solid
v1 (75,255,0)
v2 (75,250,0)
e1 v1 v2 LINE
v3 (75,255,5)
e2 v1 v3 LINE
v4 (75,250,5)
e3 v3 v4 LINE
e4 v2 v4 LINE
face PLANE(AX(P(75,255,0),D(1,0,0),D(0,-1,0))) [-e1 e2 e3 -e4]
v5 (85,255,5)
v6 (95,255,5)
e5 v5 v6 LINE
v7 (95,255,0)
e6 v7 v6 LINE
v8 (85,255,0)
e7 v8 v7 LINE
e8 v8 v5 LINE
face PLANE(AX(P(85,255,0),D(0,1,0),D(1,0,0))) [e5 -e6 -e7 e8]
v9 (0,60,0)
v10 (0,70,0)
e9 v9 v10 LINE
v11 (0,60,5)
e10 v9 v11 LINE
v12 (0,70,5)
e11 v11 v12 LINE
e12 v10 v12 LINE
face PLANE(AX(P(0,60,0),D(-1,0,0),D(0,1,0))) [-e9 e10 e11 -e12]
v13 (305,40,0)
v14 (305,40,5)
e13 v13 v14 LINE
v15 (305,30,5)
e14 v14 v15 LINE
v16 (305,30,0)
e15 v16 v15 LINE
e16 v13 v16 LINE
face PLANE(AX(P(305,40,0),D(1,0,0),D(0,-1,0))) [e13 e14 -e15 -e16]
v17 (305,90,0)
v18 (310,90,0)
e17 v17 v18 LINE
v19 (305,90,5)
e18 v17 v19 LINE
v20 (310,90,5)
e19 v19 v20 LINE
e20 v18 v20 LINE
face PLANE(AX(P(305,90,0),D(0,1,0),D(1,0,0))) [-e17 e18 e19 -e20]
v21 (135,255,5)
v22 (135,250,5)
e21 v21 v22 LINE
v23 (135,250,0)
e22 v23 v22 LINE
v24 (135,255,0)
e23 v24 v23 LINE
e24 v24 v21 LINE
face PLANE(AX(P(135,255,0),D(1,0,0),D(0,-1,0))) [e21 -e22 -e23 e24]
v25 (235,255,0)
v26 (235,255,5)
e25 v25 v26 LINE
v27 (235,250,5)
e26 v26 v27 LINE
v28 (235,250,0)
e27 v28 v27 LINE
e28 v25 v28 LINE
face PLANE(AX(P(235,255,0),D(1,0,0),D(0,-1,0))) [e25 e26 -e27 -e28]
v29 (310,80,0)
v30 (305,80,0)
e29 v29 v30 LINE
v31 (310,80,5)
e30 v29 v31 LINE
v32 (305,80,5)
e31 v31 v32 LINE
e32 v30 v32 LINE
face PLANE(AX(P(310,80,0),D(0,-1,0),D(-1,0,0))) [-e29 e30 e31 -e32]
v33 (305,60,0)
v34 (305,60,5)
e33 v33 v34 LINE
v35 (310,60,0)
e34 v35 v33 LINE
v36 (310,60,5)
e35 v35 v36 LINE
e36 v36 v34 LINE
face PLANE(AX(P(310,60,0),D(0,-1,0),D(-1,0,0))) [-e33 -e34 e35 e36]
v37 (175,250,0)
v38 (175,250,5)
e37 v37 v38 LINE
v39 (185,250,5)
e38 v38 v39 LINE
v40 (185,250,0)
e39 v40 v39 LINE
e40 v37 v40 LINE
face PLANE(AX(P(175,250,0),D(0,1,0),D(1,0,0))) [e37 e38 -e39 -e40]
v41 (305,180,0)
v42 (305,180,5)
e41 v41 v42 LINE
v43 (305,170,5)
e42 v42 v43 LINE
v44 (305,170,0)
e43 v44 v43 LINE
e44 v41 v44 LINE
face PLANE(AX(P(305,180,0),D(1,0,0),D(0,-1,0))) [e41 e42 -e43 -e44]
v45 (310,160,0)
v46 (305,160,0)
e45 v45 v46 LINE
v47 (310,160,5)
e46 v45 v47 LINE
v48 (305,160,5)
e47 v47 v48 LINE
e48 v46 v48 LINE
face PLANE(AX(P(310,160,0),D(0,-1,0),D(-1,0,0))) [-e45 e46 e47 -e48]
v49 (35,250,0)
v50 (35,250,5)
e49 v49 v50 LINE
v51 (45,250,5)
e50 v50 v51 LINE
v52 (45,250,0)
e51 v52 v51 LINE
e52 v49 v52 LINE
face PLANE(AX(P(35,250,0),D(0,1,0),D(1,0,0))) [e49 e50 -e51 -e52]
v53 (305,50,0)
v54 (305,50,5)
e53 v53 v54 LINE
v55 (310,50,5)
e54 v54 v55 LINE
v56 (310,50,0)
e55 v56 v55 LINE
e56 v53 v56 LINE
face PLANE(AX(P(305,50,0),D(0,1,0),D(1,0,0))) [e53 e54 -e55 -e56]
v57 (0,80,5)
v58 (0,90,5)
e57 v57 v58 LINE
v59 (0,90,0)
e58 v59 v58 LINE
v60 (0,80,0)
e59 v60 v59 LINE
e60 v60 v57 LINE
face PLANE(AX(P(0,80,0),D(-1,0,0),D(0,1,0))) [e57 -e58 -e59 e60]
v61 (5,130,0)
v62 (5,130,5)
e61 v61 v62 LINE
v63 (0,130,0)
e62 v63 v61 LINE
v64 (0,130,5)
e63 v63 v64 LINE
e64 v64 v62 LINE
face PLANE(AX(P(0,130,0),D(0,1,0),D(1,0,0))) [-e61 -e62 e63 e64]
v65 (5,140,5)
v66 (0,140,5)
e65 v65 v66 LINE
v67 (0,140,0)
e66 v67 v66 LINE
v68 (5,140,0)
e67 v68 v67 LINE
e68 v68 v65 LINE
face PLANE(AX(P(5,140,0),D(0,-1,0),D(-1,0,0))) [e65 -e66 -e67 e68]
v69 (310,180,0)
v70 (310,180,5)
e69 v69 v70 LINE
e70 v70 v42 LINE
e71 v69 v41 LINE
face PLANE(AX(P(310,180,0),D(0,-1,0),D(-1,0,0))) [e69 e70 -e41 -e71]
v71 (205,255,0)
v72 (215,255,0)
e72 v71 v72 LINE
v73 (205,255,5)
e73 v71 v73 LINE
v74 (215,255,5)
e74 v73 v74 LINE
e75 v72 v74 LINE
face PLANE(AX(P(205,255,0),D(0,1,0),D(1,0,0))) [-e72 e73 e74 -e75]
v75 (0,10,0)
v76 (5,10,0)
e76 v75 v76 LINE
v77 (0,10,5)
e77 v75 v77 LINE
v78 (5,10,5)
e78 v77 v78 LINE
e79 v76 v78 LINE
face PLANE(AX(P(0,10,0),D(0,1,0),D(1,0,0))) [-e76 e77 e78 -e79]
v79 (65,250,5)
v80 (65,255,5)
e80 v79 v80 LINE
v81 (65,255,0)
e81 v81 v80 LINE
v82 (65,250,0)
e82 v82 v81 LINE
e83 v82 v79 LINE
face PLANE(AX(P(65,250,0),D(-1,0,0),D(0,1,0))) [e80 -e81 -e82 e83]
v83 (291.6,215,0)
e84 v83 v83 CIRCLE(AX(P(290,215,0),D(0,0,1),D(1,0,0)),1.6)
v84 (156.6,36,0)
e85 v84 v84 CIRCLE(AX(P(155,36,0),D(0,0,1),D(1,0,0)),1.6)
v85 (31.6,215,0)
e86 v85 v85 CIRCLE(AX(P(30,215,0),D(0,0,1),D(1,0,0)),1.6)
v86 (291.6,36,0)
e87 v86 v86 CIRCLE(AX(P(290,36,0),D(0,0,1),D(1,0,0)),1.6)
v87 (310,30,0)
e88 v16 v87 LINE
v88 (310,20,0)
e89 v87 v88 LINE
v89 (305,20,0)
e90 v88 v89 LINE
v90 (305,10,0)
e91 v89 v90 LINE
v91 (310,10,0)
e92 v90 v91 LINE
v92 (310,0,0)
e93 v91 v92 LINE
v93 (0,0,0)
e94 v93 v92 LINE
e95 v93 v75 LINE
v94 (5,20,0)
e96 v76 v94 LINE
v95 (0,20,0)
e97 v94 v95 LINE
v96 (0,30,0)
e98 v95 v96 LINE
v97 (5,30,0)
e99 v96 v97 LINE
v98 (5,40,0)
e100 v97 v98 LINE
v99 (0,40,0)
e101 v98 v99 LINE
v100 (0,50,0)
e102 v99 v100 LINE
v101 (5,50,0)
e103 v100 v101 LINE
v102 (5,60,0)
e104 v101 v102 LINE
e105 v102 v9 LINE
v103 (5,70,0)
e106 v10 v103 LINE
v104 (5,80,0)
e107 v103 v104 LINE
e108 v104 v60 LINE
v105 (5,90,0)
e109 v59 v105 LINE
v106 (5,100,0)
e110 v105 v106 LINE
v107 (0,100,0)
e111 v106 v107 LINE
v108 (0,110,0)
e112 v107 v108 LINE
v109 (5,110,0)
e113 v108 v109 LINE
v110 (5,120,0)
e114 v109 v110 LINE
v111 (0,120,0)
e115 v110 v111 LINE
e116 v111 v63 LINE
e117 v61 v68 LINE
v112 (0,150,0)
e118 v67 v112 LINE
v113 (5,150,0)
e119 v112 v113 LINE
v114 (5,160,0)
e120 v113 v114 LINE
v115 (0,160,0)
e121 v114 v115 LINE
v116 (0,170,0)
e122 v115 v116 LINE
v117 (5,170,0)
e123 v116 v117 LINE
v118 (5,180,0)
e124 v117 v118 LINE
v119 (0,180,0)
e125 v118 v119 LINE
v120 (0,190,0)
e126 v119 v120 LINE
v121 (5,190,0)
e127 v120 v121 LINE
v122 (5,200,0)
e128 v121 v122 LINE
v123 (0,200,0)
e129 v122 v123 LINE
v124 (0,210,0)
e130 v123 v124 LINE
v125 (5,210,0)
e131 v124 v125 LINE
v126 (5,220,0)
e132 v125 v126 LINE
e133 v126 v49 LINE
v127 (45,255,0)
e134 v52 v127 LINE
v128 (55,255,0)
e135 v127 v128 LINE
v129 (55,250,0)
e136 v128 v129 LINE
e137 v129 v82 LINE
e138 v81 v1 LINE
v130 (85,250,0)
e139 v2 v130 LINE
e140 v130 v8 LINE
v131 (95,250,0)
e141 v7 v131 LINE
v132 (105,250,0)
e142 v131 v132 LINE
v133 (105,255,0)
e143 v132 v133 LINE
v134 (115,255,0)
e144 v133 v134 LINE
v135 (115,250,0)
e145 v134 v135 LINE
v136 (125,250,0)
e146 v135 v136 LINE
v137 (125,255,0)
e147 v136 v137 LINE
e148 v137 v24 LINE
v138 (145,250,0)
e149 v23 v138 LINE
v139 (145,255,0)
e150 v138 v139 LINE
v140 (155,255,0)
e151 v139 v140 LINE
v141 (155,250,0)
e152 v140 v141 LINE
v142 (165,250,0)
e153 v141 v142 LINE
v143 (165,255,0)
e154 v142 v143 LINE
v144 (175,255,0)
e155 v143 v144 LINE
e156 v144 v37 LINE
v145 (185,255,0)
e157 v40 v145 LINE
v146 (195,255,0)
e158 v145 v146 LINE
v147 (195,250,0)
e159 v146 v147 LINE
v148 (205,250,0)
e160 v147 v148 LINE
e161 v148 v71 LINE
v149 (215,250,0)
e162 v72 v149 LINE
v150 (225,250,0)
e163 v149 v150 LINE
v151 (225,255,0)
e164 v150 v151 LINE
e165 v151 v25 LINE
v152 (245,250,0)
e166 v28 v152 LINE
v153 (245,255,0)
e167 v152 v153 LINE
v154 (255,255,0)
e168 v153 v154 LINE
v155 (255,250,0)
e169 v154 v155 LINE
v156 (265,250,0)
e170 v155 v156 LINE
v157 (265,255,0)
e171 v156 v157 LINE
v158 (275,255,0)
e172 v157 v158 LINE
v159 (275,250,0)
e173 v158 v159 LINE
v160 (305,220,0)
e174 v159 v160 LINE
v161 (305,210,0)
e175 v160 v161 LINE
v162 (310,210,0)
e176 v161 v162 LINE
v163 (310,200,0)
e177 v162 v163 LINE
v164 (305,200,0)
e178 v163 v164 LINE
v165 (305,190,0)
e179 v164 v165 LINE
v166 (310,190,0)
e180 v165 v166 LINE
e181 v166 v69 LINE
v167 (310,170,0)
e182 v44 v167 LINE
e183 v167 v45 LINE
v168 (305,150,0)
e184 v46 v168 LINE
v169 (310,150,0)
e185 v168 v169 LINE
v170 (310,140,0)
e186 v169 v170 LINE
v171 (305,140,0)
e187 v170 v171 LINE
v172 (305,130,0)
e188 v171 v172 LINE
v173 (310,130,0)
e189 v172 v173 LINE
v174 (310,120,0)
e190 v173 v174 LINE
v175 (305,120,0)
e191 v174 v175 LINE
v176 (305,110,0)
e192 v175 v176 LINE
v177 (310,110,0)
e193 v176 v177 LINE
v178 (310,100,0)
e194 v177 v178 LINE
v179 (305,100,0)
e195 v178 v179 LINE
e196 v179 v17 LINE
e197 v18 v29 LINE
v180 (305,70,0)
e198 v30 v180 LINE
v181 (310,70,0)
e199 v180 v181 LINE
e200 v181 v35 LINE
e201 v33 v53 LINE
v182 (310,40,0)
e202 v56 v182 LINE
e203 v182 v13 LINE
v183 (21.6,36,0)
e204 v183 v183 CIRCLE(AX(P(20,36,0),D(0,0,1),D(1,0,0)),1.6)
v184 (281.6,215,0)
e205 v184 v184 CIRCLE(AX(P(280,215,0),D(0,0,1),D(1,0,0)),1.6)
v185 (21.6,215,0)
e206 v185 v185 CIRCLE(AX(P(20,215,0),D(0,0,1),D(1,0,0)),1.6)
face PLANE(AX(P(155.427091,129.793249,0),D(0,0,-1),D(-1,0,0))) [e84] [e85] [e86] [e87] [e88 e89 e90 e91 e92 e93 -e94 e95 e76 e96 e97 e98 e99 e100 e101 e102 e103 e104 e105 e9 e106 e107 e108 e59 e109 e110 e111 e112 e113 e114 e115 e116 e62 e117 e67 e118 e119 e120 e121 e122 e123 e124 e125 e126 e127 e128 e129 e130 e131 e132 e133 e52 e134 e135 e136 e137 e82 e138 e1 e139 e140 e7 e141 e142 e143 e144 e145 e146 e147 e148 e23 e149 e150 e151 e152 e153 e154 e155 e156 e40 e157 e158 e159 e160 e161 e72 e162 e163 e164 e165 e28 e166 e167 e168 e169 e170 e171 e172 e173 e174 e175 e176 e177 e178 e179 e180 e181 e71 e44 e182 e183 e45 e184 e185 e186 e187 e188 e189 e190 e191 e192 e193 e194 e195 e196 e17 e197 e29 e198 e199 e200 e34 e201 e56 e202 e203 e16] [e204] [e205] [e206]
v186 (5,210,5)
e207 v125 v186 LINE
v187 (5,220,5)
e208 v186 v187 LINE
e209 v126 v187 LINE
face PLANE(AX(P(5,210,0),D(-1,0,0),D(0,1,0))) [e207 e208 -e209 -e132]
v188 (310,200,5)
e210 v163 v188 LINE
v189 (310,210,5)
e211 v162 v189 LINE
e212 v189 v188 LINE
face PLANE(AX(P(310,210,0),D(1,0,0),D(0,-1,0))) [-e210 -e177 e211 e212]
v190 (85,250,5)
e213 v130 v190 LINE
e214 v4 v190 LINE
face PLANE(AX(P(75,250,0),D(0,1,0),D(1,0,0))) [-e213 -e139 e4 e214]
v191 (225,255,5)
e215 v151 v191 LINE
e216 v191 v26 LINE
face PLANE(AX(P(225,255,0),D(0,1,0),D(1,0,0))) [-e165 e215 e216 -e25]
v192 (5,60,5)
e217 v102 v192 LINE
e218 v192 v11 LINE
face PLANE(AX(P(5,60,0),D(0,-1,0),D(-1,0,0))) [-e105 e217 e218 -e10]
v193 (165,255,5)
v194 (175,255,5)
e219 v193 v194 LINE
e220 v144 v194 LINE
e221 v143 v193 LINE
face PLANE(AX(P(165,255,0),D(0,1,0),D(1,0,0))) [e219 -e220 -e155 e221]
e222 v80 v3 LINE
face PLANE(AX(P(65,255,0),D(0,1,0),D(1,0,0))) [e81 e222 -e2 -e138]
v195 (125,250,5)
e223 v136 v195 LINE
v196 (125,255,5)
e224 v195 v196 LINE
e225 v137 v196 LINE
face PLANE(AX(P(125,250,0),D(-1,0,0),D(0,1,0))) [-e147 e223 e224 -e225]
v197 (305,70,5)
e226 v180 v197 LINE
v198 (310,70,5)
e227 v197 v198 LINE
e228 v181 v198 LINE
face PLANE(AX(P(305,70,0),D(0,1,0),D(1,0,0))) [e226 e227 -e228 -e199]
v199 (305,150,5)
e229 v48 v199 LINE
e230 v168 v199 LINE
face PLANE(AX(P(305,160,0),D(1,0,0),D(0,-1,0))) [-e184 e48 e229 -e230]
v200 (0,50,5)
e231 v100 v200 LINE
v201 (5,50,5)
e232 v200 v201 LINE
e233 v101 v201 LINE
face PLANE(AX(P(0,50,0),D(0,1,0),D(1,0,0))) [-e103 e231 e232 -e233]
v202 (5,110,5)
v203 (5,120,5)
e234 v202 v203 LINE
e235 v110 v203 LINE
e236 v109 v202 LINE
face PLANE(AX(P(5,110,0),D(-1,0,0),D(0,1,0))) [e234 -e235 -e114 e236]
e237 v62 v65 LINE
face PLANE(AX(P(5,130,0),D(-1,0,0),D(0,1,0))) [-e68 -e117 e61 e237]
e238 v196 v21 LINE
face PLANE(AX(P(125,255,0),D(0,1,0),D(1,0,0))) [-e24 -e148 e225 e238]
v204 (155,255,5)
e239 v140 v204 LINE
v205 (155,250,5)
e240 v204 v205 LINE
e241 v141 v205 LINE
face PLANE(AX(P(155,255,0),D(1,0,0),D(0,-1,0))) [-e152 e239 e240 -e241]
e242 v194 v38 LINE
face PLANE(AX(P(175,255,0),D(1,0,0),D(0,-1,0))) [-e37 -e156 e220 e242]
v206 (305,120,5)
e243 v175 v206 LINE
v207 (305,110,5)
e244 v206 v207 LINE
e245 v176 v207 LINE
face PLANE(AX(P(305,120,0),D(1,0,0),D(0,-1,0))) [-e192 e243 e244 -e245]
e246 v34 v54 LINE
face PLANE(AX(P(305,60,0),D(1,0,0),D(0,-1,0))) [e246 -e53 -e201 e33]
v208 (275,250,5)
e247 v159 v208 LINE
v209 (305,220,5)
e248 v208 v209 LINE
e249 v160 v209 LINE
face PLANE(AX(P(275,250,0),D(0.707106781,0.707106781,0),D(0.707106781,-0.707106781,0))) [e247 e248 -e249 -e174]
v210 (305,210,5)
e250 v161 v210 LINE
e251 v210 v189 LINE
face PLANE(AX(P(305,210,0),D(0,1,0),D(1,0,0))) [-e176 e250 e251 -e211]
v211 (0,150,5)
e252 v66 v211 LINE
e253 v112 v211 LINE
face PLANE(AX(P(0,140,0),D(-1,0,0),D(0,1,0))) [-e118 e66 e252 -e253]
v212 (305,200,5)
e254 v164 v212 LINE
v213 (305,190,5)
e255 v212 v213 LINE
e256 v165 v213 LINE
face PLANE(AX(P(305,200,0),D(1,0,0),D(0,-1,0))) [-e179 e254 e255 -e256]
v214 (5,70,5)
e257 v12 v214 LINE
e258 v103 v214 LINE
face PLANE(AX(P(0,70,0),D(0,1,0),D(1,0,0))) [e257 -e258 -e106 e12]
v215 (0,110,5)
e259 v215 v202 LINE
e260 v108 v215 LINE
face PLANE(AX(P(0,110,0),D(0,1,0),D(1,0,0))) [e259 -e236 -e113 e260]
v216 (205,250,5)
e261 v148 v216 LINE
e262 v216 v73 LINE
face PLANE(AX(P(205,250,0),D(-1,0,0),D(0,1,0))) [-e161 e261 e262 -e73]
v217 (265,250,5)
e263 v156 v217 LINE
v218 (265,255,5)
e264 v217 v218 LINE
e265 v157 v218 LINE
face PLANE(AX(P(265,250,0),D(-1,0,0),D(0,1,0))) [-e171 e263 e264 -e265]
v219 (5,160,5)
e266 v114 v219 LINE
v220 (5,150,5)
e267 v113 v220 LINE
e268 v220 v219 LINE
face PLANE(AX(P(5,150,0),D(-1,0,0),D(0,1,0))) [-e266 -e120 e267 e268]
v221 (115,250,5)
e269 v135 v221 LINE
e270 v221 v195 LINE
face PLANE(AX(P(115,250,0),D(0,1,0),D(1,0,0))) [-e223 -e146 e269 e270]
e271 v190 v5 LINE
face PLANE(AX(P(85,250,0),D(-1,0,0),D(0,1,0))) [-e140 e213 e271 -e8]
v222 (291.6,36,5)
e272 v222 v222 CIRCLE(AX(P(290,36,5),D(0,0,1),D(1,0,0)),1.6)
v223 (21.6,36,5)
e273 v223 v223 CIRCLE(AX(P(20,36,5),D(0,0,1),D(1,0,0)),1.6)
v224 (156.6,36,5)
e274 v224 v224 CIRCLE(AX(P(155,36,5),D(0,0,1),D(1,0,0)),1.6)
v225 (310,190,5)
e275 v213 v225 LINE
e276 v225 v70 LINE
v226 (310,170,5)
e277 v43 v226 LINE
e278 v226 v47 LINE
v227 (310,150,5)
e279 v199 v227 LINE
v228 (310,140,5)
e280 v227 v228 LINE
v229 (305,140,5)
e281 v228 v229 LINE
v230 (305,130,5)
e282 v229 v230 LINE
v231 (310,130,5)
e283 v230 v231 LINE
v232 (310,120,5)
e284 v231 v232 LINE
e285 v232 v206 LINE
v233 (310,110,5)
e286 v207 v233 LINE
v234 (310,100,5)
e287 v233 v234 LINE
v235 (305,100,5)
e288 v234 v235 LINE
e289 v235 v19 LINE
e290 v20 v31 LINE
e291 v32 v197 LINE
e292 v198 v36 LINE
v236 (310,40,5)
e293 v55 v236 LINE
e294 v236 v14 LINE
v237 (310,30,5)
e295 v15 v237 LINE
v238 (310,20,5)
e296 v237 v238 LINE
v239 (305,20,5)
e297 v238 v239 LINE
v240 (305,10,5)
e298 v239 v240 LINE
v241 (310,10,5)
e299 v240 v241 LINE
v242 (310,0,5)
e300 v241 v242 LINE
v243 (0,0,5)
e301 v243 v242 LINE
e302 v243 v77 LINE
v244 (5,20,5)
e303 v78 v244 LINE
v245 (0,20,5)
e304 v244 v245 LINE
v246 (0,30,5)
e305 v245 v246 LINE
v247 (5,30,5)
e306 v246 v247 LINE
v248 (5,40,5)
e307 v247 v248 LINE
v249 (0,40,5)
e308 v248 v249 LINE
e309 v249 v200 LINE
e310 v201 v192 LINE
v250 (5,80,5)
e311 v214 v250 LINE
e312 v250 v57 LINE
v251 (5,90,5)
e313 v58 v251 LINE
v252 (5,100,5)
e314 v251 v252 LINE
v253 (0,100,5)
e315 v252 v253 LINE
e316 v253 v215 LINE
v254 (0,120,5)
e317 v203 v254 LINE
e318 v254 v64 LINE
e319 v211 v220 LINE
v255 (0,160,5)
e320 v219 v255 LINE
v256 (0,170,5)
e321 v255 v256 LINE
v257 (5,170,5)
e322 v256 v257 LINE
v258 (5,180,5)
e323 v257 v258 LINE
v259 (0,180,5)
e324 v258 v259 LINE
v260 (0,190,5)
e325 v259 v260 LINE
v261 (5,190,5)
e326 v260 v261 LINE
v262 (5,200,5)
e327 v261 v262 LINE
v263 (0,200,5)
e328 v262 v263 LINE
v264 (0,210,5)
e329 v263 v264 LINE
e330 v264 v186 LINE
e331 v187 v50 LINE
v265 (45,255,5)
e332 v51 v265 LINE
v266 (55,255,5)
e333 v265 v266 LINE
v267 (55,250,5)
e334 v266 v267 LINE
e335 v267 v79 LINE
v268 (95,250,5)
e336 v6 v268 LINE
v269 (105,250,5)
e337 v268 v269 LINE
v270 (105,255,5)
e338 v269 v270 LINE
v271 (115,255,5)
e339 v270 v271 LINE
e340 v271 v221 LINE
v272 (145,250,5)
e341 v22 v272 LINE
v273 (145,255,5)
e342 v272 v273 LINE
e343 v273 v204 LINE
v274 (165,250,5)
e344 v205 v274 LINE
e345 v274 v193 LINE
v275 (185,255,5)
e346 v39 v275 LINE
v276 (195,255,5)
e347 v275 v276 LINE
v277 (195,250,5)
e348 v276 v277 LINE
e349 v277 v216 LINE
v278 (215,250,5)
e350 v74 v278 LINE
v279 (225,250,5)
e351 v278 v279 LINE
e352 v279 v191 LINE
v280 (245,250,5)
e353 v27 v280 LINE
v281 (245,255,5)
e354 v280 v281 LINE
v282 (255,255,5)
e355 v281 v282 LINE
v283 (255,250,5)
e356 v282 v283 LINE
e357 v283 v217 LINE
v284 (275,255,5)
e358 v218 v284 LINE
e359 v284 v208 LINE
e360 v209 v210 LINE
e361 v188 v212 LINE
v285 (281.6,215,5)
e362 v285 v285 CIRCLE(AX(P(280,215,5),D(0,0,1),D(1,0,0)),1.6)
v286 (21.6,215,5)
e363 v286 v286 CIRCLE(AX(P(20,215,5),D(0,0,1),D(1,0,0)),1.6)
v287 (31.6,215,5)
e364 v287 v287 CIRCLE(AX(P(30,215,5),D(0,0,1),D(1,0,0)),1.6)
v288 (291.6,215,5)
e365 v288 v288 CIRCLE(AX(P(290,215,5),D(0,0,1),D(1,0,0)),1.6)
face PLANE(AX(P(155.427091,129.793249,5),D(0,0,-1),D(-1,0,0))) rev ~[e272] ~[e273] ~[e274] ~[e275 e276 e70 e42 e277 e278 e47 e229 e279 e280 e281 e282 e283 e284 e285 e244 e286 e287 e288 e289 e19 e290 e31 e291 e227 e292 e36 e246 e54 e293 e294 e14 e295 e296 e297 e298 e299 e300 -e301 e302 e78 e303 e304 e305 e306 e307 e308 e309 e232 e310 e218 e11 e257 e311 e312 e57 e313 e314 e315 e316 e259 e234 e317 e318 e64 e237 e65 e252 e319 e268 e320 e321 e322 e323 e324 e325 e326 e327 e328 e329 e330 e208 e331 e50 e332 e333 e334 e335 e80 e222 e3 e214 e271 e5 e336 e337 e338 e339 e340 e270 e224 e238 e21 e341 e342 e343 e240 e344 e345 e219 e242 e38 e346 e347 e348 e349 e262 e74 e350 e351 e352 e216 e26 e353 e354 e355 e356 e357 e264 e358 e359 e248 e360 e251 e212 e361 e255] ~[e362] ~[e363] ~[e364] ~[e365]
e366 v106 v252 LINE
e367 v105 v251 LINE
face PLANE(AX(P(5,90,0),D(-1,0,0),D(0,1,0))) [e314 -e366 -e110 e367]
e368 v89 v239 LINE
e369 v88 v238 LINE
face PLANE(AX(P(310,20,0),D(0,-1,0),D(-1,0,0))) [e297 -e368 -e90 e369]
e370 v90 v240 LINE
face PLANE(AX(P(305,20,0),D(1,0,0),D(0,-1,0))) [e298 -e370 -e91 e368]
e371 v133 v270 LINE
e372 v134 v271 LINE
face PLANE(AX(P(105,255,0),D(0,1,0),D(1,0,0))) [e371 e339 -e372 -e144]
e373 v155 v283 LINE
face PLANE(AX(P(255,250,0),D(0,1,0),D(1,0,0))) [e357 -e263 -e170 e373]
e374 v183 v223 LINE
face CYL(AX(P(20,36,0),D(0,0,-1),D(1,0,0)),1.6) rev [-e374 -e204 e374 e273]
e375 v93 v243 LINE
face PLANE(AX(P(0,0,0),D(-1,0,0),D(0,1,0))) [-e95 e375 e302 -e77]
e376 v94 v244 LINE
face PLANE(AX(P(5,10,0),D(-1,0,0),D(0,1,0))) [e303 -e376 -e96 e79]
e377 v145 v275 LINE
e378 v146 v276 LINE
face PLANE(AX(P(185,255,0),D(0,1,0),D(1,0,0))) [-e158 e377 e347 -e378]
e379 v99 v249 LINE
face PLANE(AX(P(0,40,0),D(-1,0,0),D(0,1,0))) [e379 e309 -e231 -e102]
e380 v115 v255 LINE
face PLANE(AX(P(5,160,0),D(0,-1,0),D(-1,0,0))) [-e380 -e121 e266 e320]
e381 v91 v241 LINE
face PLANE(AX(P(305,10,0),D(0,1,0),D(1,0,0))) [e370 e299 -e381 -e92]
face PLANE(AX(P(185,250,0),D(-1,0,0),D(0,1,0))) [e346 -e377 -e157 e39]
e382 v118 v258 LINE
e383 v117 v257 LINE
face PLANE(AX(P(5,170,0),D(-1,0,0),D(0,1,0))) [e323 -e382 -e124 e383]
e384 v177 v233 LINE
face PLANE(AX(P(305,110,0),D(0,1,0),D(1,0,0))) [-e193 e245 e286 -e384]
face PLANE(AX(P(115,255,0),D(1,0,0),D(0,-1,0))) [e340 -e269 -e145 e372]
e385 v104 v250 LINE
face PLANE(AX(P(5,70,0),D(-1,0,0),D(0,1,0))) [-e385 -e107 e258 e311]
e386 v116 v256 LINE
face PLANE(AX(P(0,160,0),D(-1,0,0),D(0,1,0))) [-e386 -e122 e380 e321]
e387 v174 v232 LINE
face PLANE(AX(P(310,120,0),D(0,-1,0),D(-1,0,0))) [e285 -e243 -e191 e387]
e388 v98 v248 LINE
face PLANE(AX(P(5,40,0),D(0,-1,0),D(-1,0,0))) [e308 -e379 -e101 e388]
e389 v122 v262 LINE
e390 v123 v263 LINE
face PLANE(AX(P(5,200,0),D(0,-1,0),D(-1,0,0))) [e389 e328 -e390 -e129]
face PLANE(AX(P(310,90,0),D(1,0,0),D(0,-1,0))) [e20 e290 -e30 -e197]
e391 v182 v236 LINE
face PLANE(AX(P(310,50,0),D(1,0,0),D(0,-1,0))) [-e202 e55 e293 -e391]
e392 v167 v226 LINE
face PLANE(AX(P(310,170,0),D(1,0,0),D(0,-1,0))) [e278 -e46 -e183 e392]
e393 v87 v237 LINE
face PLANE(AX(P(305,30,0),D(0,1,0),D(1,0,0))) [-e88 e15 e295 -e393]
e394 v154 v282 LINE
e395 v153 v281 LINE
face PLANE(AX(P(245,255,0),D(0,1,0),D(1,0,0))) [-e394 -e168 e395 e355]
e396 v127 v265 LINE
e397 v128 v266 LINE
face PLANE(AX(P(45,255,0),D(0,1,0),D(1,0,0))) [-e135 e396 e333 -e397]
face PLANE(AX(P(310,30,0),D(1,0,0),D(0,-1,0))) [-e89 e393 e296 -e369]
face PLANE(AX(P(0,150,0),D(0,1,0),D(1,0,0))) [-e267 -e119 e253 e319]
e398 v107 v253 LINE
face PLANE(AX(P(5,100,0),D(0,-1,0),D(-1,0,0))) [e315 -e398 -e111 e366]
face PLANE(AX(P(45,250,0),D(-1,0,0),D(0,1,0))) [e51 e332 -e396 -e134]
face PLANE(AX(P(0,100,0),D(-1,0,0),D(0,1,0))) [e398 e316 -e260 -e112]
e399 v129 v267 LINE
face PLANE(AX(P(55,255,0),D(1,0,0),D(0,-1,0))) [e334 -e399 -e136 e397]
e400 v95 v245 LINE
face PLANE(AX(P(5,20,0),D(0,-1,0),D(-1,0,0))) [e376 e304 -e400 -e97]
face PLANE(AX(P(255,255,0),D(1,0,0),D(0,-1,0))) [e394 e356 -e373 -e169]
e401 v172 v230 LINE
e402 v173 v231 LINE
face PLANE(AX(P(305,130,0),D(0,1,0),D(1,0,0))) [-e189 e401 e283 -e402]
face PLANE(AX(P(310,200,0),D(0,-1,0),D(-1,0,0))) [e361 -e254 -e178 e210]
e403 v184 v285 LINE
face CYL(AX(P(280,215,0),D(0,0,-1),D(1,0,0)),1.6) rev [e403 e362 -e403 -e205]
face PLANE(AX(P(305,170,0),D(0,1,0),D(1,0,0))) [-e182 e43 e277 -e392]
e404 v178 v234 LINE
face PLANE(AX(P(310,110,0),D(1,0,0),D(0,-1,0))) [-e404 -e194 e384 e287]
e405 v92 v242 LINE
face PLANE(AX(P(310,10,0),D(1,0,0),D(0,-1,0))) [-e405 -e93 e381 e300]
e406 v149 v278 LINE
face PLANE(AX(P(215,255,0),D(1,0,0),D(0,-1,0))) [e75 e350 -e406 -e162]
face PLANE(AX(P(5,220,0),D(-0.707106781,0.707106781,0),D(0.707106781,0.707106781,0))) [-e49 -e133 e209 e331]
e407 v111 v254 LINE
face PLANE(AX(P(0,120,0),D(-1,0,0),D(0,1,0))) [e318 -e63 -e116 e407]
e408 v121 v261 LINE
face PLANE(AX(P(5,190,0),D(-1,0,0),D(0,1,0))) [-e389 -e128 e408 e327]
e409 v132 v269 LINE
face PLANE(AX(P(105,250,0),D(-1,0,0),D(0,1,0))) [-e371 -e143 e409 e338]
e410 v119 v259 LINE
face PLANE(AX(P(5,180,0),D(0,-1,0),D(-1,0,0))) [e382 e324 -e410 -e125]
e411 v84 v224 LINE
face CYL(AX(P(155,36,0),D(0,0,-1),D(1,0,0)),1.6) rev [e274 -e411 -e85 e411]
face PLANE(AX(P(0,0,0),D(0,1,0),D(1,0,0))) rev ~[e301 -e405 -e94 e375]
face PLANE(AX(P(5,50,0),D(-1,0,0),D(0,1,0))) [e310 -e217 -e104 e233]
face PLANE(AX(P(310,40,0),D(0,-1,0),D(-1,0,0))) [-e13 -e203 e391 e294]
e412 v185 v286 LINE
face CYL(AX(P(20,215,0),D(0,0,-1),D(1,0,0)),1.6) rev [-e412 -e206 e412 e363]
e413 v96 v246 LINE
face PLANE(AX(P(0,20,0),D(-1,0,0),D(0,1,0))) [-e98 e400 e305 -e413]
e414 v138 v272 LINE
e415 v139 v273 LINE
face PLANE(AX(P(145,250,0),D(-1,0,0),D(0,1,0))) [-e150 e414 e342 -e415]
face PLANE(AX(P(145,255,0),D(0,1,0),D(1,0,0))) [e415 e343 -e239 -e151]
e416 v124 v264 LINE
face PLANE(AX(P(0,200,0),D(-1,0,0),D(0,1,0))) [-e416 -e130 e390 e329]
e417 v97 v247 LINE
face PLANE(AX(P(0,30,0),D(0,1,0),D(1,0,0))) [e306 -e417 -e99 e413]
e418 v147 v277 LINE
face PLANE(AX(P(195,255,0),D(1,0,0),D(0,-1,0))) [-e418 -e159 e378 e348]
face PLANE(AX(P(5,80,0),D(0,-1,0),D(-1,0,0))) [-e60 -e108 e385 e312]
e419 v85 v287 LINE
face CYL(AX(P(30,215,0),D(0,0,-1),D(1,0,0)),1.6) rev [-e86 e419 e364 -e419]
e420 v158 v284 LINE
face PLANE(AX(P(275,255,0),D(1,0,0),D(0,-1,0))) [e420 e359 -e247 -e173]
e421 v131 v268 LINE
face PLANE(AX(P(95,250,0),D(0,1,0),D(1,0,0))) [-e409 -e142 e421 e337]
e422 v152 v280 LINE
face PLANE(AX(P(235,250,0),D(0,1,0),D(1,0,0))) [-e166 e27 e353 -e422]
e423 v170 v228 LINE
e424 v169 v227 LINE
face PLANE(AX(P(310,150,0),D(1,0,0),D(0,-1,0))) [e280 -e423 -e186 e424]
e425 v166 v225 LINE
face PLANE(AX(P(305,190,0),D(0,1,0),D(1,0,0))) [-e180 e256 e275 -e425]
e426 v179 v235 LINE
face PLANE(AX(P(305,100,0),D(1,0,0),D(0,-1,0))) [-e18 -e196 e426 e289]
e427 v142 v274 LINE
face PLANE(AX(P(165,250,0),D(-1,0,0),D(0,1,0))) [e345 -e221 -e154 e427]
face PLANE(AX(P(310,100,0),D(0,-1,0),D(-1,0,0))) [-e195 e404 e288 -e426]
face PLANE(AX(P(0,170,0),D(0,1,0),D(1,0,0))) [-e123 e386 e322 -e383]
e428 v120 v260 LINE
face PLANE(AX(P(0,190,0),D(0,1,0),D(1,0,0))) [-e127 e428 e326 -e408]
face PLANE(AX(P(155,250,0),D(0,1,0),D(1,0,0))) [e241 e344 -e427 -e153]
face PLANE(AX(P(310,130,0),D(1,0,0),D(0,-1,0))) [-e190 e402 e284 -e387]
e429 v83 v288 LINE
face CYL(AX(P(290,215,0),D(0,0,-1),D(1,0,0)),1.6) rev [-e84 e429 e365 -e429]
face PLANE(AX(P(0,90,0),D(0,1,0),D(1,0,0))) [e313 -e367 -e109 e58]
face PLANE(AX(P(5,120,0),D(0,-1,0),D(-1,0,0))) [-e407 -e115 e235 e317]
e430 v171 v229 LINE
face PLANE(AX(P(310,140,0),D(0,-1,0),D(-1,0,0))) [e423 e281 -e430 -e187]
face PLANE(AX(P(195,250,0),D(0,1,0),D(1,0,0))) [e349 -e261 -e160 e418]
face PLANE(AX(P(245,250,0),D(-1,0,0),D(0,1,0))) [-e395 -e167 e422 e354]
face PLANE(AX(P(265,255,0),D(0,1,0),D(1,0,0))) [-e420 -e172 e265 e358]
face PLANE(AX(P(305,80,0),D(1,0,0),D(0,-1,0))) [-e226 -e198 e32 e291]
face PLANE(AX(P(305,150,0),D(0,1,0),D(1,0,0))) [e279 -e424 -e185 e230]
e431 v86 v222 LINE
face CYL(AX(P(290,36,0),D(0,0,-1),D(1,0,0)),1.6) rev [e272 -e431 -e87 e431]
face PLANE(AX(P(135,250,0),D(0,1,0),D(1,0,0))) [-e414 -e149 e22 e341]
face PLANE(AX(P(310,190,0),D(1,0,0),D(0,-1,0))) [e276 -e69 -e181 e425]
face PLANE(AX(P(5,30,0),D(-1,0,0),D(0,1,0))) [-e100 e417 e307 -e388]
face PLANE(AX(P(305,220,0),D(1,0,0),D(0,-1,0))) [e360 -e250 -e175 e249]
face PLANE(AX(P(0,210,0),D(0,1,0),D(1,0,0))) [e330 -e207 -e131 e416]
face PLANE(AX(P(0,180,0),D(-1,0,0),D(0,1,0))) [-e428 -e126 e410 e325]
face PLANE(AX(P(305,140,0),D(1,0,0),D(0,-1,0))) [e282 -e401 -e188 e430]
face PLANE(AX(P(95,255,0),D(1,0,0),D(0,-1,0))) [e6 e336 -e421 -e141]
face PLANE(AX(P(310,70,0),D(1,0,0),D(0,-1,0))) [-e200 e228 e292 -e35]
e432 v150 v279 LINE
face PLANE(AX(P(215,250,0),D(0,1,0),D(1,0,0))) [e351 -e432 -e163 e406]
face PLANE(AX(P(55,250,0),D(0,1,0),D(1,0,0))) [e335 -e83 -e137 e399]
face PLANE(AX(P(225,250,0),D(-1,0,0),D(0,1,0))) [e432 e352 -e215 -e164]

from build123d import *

# Parameters (mm, degrees)
SKIZZE1_R                       = 1.6
AUFSATZ_LINEAR_AUSTRAGEN1_DEPTH = 5


with BuildPart() as part:
    # Skizze1 → Aufsatz-Linear austragen1 (new body)
    with BuildSketch(Plane.XY):
        Polygon((5, 10), (5, 20), (0, 20), (0, 30), (5, 30), (5, 40), (0, 40), (0, 50), (5, 50), (5, 60), (0, 60), (0, 70), (5, 70), (5, 80), (0, 80), (0, 90), (5, 90), (5, 100), (0, 100), (0, 110), (5, 110), (5, 120), (0, 120), (0, 130), (5, 130), (5, 140), (0, 140), (0, 150), (5, 150), (5, 160), (0, 160), (0, 170), (5, 170), (5, 180), (0, 180), (0, 190), (5, 190), (5, 200), (0, 200), (0, 210), (5, 210), (5, 220), (35, 250), (45, 250), (45, 255), (55, 255), (55, 250), (65, 250), (65, 255), (75, 255), (75, 250), (85, 250), (85, 255), (95, 255), (95, 250), (105, 250), (105, 255), (115, 255), (115, 250), (125, 250), (125, 255), (135, 255), (135, 250), (145, 250), (145, 255), (155, 255), (155, 250), (165, 250), (165, 255), (175, 255), (175, 250), (185, 250), (185, 255), (195, 255), (195, 250), (205, 250), (205, 255), (215, 255), (215, 250), (225, 250), (225, 255), (235, 255), (235, 250), (245, 250), (245, 255), (255, 255), (255, 250), (265, 250), (265, 255), (275, 255), (275, 250), (305, 220), (305, 210), (310, 210), (310, 200), (305, 200), (305, 190), (310, 190), (310, 180), (305, 180), (305, 170), (310, 170), (310, 160), (305, 160), (305, 150), (310, 150), (310, 140), (305, 140), (305, 130), (310, 130), (310, 120), (305, 120), (305, 110), (310, 110), (310, 100), (305, 100), (305, 90), (310, 90), (310, 80), (305, 80), (305, 70), (310, 70), (310, 60), (305, 60), (305, 50), (310, 50), (310, 40), (305, 40), (305, 30), (310, 30), (310, 20), (305, 20), (305, 10), (310, 10), (310, 0), (305, 0), (5, 0), (0, 0), (0, 10), align=None)
        with Locations((20, 215)):
            Circle(SKIZZE1_R, mode=Mode.SUBTRACT)
        with Locations((30, 215)):
            Circle(SKIZZE1_R, mode=Mode.SUBTRACT)
        with Locations((290, 215)):
            Circle(SKIZZE1_R, mode=Mode.SUBTRACT)
        with Locations((280, 215)):
            Circle(SKIZZE1_R, mode=Mode.SUBTRACT)
        with Locations((20, 36)):
            Circle(SKIZZE1_R, mode=Mode.SUBTRACT)
        with Locations((155, 36)):
            Circle(SKIZZE1_R, mode=Mode.SUBTRACT)
        with Locations((290, 36)):
            Circle(SKIZZE1_R, mode=Mode.SUBTRACT)
    extrude(amount=AUFSATZ_LINEAR_AUSTRAGEN1_DEPTH)


solid = part.part
